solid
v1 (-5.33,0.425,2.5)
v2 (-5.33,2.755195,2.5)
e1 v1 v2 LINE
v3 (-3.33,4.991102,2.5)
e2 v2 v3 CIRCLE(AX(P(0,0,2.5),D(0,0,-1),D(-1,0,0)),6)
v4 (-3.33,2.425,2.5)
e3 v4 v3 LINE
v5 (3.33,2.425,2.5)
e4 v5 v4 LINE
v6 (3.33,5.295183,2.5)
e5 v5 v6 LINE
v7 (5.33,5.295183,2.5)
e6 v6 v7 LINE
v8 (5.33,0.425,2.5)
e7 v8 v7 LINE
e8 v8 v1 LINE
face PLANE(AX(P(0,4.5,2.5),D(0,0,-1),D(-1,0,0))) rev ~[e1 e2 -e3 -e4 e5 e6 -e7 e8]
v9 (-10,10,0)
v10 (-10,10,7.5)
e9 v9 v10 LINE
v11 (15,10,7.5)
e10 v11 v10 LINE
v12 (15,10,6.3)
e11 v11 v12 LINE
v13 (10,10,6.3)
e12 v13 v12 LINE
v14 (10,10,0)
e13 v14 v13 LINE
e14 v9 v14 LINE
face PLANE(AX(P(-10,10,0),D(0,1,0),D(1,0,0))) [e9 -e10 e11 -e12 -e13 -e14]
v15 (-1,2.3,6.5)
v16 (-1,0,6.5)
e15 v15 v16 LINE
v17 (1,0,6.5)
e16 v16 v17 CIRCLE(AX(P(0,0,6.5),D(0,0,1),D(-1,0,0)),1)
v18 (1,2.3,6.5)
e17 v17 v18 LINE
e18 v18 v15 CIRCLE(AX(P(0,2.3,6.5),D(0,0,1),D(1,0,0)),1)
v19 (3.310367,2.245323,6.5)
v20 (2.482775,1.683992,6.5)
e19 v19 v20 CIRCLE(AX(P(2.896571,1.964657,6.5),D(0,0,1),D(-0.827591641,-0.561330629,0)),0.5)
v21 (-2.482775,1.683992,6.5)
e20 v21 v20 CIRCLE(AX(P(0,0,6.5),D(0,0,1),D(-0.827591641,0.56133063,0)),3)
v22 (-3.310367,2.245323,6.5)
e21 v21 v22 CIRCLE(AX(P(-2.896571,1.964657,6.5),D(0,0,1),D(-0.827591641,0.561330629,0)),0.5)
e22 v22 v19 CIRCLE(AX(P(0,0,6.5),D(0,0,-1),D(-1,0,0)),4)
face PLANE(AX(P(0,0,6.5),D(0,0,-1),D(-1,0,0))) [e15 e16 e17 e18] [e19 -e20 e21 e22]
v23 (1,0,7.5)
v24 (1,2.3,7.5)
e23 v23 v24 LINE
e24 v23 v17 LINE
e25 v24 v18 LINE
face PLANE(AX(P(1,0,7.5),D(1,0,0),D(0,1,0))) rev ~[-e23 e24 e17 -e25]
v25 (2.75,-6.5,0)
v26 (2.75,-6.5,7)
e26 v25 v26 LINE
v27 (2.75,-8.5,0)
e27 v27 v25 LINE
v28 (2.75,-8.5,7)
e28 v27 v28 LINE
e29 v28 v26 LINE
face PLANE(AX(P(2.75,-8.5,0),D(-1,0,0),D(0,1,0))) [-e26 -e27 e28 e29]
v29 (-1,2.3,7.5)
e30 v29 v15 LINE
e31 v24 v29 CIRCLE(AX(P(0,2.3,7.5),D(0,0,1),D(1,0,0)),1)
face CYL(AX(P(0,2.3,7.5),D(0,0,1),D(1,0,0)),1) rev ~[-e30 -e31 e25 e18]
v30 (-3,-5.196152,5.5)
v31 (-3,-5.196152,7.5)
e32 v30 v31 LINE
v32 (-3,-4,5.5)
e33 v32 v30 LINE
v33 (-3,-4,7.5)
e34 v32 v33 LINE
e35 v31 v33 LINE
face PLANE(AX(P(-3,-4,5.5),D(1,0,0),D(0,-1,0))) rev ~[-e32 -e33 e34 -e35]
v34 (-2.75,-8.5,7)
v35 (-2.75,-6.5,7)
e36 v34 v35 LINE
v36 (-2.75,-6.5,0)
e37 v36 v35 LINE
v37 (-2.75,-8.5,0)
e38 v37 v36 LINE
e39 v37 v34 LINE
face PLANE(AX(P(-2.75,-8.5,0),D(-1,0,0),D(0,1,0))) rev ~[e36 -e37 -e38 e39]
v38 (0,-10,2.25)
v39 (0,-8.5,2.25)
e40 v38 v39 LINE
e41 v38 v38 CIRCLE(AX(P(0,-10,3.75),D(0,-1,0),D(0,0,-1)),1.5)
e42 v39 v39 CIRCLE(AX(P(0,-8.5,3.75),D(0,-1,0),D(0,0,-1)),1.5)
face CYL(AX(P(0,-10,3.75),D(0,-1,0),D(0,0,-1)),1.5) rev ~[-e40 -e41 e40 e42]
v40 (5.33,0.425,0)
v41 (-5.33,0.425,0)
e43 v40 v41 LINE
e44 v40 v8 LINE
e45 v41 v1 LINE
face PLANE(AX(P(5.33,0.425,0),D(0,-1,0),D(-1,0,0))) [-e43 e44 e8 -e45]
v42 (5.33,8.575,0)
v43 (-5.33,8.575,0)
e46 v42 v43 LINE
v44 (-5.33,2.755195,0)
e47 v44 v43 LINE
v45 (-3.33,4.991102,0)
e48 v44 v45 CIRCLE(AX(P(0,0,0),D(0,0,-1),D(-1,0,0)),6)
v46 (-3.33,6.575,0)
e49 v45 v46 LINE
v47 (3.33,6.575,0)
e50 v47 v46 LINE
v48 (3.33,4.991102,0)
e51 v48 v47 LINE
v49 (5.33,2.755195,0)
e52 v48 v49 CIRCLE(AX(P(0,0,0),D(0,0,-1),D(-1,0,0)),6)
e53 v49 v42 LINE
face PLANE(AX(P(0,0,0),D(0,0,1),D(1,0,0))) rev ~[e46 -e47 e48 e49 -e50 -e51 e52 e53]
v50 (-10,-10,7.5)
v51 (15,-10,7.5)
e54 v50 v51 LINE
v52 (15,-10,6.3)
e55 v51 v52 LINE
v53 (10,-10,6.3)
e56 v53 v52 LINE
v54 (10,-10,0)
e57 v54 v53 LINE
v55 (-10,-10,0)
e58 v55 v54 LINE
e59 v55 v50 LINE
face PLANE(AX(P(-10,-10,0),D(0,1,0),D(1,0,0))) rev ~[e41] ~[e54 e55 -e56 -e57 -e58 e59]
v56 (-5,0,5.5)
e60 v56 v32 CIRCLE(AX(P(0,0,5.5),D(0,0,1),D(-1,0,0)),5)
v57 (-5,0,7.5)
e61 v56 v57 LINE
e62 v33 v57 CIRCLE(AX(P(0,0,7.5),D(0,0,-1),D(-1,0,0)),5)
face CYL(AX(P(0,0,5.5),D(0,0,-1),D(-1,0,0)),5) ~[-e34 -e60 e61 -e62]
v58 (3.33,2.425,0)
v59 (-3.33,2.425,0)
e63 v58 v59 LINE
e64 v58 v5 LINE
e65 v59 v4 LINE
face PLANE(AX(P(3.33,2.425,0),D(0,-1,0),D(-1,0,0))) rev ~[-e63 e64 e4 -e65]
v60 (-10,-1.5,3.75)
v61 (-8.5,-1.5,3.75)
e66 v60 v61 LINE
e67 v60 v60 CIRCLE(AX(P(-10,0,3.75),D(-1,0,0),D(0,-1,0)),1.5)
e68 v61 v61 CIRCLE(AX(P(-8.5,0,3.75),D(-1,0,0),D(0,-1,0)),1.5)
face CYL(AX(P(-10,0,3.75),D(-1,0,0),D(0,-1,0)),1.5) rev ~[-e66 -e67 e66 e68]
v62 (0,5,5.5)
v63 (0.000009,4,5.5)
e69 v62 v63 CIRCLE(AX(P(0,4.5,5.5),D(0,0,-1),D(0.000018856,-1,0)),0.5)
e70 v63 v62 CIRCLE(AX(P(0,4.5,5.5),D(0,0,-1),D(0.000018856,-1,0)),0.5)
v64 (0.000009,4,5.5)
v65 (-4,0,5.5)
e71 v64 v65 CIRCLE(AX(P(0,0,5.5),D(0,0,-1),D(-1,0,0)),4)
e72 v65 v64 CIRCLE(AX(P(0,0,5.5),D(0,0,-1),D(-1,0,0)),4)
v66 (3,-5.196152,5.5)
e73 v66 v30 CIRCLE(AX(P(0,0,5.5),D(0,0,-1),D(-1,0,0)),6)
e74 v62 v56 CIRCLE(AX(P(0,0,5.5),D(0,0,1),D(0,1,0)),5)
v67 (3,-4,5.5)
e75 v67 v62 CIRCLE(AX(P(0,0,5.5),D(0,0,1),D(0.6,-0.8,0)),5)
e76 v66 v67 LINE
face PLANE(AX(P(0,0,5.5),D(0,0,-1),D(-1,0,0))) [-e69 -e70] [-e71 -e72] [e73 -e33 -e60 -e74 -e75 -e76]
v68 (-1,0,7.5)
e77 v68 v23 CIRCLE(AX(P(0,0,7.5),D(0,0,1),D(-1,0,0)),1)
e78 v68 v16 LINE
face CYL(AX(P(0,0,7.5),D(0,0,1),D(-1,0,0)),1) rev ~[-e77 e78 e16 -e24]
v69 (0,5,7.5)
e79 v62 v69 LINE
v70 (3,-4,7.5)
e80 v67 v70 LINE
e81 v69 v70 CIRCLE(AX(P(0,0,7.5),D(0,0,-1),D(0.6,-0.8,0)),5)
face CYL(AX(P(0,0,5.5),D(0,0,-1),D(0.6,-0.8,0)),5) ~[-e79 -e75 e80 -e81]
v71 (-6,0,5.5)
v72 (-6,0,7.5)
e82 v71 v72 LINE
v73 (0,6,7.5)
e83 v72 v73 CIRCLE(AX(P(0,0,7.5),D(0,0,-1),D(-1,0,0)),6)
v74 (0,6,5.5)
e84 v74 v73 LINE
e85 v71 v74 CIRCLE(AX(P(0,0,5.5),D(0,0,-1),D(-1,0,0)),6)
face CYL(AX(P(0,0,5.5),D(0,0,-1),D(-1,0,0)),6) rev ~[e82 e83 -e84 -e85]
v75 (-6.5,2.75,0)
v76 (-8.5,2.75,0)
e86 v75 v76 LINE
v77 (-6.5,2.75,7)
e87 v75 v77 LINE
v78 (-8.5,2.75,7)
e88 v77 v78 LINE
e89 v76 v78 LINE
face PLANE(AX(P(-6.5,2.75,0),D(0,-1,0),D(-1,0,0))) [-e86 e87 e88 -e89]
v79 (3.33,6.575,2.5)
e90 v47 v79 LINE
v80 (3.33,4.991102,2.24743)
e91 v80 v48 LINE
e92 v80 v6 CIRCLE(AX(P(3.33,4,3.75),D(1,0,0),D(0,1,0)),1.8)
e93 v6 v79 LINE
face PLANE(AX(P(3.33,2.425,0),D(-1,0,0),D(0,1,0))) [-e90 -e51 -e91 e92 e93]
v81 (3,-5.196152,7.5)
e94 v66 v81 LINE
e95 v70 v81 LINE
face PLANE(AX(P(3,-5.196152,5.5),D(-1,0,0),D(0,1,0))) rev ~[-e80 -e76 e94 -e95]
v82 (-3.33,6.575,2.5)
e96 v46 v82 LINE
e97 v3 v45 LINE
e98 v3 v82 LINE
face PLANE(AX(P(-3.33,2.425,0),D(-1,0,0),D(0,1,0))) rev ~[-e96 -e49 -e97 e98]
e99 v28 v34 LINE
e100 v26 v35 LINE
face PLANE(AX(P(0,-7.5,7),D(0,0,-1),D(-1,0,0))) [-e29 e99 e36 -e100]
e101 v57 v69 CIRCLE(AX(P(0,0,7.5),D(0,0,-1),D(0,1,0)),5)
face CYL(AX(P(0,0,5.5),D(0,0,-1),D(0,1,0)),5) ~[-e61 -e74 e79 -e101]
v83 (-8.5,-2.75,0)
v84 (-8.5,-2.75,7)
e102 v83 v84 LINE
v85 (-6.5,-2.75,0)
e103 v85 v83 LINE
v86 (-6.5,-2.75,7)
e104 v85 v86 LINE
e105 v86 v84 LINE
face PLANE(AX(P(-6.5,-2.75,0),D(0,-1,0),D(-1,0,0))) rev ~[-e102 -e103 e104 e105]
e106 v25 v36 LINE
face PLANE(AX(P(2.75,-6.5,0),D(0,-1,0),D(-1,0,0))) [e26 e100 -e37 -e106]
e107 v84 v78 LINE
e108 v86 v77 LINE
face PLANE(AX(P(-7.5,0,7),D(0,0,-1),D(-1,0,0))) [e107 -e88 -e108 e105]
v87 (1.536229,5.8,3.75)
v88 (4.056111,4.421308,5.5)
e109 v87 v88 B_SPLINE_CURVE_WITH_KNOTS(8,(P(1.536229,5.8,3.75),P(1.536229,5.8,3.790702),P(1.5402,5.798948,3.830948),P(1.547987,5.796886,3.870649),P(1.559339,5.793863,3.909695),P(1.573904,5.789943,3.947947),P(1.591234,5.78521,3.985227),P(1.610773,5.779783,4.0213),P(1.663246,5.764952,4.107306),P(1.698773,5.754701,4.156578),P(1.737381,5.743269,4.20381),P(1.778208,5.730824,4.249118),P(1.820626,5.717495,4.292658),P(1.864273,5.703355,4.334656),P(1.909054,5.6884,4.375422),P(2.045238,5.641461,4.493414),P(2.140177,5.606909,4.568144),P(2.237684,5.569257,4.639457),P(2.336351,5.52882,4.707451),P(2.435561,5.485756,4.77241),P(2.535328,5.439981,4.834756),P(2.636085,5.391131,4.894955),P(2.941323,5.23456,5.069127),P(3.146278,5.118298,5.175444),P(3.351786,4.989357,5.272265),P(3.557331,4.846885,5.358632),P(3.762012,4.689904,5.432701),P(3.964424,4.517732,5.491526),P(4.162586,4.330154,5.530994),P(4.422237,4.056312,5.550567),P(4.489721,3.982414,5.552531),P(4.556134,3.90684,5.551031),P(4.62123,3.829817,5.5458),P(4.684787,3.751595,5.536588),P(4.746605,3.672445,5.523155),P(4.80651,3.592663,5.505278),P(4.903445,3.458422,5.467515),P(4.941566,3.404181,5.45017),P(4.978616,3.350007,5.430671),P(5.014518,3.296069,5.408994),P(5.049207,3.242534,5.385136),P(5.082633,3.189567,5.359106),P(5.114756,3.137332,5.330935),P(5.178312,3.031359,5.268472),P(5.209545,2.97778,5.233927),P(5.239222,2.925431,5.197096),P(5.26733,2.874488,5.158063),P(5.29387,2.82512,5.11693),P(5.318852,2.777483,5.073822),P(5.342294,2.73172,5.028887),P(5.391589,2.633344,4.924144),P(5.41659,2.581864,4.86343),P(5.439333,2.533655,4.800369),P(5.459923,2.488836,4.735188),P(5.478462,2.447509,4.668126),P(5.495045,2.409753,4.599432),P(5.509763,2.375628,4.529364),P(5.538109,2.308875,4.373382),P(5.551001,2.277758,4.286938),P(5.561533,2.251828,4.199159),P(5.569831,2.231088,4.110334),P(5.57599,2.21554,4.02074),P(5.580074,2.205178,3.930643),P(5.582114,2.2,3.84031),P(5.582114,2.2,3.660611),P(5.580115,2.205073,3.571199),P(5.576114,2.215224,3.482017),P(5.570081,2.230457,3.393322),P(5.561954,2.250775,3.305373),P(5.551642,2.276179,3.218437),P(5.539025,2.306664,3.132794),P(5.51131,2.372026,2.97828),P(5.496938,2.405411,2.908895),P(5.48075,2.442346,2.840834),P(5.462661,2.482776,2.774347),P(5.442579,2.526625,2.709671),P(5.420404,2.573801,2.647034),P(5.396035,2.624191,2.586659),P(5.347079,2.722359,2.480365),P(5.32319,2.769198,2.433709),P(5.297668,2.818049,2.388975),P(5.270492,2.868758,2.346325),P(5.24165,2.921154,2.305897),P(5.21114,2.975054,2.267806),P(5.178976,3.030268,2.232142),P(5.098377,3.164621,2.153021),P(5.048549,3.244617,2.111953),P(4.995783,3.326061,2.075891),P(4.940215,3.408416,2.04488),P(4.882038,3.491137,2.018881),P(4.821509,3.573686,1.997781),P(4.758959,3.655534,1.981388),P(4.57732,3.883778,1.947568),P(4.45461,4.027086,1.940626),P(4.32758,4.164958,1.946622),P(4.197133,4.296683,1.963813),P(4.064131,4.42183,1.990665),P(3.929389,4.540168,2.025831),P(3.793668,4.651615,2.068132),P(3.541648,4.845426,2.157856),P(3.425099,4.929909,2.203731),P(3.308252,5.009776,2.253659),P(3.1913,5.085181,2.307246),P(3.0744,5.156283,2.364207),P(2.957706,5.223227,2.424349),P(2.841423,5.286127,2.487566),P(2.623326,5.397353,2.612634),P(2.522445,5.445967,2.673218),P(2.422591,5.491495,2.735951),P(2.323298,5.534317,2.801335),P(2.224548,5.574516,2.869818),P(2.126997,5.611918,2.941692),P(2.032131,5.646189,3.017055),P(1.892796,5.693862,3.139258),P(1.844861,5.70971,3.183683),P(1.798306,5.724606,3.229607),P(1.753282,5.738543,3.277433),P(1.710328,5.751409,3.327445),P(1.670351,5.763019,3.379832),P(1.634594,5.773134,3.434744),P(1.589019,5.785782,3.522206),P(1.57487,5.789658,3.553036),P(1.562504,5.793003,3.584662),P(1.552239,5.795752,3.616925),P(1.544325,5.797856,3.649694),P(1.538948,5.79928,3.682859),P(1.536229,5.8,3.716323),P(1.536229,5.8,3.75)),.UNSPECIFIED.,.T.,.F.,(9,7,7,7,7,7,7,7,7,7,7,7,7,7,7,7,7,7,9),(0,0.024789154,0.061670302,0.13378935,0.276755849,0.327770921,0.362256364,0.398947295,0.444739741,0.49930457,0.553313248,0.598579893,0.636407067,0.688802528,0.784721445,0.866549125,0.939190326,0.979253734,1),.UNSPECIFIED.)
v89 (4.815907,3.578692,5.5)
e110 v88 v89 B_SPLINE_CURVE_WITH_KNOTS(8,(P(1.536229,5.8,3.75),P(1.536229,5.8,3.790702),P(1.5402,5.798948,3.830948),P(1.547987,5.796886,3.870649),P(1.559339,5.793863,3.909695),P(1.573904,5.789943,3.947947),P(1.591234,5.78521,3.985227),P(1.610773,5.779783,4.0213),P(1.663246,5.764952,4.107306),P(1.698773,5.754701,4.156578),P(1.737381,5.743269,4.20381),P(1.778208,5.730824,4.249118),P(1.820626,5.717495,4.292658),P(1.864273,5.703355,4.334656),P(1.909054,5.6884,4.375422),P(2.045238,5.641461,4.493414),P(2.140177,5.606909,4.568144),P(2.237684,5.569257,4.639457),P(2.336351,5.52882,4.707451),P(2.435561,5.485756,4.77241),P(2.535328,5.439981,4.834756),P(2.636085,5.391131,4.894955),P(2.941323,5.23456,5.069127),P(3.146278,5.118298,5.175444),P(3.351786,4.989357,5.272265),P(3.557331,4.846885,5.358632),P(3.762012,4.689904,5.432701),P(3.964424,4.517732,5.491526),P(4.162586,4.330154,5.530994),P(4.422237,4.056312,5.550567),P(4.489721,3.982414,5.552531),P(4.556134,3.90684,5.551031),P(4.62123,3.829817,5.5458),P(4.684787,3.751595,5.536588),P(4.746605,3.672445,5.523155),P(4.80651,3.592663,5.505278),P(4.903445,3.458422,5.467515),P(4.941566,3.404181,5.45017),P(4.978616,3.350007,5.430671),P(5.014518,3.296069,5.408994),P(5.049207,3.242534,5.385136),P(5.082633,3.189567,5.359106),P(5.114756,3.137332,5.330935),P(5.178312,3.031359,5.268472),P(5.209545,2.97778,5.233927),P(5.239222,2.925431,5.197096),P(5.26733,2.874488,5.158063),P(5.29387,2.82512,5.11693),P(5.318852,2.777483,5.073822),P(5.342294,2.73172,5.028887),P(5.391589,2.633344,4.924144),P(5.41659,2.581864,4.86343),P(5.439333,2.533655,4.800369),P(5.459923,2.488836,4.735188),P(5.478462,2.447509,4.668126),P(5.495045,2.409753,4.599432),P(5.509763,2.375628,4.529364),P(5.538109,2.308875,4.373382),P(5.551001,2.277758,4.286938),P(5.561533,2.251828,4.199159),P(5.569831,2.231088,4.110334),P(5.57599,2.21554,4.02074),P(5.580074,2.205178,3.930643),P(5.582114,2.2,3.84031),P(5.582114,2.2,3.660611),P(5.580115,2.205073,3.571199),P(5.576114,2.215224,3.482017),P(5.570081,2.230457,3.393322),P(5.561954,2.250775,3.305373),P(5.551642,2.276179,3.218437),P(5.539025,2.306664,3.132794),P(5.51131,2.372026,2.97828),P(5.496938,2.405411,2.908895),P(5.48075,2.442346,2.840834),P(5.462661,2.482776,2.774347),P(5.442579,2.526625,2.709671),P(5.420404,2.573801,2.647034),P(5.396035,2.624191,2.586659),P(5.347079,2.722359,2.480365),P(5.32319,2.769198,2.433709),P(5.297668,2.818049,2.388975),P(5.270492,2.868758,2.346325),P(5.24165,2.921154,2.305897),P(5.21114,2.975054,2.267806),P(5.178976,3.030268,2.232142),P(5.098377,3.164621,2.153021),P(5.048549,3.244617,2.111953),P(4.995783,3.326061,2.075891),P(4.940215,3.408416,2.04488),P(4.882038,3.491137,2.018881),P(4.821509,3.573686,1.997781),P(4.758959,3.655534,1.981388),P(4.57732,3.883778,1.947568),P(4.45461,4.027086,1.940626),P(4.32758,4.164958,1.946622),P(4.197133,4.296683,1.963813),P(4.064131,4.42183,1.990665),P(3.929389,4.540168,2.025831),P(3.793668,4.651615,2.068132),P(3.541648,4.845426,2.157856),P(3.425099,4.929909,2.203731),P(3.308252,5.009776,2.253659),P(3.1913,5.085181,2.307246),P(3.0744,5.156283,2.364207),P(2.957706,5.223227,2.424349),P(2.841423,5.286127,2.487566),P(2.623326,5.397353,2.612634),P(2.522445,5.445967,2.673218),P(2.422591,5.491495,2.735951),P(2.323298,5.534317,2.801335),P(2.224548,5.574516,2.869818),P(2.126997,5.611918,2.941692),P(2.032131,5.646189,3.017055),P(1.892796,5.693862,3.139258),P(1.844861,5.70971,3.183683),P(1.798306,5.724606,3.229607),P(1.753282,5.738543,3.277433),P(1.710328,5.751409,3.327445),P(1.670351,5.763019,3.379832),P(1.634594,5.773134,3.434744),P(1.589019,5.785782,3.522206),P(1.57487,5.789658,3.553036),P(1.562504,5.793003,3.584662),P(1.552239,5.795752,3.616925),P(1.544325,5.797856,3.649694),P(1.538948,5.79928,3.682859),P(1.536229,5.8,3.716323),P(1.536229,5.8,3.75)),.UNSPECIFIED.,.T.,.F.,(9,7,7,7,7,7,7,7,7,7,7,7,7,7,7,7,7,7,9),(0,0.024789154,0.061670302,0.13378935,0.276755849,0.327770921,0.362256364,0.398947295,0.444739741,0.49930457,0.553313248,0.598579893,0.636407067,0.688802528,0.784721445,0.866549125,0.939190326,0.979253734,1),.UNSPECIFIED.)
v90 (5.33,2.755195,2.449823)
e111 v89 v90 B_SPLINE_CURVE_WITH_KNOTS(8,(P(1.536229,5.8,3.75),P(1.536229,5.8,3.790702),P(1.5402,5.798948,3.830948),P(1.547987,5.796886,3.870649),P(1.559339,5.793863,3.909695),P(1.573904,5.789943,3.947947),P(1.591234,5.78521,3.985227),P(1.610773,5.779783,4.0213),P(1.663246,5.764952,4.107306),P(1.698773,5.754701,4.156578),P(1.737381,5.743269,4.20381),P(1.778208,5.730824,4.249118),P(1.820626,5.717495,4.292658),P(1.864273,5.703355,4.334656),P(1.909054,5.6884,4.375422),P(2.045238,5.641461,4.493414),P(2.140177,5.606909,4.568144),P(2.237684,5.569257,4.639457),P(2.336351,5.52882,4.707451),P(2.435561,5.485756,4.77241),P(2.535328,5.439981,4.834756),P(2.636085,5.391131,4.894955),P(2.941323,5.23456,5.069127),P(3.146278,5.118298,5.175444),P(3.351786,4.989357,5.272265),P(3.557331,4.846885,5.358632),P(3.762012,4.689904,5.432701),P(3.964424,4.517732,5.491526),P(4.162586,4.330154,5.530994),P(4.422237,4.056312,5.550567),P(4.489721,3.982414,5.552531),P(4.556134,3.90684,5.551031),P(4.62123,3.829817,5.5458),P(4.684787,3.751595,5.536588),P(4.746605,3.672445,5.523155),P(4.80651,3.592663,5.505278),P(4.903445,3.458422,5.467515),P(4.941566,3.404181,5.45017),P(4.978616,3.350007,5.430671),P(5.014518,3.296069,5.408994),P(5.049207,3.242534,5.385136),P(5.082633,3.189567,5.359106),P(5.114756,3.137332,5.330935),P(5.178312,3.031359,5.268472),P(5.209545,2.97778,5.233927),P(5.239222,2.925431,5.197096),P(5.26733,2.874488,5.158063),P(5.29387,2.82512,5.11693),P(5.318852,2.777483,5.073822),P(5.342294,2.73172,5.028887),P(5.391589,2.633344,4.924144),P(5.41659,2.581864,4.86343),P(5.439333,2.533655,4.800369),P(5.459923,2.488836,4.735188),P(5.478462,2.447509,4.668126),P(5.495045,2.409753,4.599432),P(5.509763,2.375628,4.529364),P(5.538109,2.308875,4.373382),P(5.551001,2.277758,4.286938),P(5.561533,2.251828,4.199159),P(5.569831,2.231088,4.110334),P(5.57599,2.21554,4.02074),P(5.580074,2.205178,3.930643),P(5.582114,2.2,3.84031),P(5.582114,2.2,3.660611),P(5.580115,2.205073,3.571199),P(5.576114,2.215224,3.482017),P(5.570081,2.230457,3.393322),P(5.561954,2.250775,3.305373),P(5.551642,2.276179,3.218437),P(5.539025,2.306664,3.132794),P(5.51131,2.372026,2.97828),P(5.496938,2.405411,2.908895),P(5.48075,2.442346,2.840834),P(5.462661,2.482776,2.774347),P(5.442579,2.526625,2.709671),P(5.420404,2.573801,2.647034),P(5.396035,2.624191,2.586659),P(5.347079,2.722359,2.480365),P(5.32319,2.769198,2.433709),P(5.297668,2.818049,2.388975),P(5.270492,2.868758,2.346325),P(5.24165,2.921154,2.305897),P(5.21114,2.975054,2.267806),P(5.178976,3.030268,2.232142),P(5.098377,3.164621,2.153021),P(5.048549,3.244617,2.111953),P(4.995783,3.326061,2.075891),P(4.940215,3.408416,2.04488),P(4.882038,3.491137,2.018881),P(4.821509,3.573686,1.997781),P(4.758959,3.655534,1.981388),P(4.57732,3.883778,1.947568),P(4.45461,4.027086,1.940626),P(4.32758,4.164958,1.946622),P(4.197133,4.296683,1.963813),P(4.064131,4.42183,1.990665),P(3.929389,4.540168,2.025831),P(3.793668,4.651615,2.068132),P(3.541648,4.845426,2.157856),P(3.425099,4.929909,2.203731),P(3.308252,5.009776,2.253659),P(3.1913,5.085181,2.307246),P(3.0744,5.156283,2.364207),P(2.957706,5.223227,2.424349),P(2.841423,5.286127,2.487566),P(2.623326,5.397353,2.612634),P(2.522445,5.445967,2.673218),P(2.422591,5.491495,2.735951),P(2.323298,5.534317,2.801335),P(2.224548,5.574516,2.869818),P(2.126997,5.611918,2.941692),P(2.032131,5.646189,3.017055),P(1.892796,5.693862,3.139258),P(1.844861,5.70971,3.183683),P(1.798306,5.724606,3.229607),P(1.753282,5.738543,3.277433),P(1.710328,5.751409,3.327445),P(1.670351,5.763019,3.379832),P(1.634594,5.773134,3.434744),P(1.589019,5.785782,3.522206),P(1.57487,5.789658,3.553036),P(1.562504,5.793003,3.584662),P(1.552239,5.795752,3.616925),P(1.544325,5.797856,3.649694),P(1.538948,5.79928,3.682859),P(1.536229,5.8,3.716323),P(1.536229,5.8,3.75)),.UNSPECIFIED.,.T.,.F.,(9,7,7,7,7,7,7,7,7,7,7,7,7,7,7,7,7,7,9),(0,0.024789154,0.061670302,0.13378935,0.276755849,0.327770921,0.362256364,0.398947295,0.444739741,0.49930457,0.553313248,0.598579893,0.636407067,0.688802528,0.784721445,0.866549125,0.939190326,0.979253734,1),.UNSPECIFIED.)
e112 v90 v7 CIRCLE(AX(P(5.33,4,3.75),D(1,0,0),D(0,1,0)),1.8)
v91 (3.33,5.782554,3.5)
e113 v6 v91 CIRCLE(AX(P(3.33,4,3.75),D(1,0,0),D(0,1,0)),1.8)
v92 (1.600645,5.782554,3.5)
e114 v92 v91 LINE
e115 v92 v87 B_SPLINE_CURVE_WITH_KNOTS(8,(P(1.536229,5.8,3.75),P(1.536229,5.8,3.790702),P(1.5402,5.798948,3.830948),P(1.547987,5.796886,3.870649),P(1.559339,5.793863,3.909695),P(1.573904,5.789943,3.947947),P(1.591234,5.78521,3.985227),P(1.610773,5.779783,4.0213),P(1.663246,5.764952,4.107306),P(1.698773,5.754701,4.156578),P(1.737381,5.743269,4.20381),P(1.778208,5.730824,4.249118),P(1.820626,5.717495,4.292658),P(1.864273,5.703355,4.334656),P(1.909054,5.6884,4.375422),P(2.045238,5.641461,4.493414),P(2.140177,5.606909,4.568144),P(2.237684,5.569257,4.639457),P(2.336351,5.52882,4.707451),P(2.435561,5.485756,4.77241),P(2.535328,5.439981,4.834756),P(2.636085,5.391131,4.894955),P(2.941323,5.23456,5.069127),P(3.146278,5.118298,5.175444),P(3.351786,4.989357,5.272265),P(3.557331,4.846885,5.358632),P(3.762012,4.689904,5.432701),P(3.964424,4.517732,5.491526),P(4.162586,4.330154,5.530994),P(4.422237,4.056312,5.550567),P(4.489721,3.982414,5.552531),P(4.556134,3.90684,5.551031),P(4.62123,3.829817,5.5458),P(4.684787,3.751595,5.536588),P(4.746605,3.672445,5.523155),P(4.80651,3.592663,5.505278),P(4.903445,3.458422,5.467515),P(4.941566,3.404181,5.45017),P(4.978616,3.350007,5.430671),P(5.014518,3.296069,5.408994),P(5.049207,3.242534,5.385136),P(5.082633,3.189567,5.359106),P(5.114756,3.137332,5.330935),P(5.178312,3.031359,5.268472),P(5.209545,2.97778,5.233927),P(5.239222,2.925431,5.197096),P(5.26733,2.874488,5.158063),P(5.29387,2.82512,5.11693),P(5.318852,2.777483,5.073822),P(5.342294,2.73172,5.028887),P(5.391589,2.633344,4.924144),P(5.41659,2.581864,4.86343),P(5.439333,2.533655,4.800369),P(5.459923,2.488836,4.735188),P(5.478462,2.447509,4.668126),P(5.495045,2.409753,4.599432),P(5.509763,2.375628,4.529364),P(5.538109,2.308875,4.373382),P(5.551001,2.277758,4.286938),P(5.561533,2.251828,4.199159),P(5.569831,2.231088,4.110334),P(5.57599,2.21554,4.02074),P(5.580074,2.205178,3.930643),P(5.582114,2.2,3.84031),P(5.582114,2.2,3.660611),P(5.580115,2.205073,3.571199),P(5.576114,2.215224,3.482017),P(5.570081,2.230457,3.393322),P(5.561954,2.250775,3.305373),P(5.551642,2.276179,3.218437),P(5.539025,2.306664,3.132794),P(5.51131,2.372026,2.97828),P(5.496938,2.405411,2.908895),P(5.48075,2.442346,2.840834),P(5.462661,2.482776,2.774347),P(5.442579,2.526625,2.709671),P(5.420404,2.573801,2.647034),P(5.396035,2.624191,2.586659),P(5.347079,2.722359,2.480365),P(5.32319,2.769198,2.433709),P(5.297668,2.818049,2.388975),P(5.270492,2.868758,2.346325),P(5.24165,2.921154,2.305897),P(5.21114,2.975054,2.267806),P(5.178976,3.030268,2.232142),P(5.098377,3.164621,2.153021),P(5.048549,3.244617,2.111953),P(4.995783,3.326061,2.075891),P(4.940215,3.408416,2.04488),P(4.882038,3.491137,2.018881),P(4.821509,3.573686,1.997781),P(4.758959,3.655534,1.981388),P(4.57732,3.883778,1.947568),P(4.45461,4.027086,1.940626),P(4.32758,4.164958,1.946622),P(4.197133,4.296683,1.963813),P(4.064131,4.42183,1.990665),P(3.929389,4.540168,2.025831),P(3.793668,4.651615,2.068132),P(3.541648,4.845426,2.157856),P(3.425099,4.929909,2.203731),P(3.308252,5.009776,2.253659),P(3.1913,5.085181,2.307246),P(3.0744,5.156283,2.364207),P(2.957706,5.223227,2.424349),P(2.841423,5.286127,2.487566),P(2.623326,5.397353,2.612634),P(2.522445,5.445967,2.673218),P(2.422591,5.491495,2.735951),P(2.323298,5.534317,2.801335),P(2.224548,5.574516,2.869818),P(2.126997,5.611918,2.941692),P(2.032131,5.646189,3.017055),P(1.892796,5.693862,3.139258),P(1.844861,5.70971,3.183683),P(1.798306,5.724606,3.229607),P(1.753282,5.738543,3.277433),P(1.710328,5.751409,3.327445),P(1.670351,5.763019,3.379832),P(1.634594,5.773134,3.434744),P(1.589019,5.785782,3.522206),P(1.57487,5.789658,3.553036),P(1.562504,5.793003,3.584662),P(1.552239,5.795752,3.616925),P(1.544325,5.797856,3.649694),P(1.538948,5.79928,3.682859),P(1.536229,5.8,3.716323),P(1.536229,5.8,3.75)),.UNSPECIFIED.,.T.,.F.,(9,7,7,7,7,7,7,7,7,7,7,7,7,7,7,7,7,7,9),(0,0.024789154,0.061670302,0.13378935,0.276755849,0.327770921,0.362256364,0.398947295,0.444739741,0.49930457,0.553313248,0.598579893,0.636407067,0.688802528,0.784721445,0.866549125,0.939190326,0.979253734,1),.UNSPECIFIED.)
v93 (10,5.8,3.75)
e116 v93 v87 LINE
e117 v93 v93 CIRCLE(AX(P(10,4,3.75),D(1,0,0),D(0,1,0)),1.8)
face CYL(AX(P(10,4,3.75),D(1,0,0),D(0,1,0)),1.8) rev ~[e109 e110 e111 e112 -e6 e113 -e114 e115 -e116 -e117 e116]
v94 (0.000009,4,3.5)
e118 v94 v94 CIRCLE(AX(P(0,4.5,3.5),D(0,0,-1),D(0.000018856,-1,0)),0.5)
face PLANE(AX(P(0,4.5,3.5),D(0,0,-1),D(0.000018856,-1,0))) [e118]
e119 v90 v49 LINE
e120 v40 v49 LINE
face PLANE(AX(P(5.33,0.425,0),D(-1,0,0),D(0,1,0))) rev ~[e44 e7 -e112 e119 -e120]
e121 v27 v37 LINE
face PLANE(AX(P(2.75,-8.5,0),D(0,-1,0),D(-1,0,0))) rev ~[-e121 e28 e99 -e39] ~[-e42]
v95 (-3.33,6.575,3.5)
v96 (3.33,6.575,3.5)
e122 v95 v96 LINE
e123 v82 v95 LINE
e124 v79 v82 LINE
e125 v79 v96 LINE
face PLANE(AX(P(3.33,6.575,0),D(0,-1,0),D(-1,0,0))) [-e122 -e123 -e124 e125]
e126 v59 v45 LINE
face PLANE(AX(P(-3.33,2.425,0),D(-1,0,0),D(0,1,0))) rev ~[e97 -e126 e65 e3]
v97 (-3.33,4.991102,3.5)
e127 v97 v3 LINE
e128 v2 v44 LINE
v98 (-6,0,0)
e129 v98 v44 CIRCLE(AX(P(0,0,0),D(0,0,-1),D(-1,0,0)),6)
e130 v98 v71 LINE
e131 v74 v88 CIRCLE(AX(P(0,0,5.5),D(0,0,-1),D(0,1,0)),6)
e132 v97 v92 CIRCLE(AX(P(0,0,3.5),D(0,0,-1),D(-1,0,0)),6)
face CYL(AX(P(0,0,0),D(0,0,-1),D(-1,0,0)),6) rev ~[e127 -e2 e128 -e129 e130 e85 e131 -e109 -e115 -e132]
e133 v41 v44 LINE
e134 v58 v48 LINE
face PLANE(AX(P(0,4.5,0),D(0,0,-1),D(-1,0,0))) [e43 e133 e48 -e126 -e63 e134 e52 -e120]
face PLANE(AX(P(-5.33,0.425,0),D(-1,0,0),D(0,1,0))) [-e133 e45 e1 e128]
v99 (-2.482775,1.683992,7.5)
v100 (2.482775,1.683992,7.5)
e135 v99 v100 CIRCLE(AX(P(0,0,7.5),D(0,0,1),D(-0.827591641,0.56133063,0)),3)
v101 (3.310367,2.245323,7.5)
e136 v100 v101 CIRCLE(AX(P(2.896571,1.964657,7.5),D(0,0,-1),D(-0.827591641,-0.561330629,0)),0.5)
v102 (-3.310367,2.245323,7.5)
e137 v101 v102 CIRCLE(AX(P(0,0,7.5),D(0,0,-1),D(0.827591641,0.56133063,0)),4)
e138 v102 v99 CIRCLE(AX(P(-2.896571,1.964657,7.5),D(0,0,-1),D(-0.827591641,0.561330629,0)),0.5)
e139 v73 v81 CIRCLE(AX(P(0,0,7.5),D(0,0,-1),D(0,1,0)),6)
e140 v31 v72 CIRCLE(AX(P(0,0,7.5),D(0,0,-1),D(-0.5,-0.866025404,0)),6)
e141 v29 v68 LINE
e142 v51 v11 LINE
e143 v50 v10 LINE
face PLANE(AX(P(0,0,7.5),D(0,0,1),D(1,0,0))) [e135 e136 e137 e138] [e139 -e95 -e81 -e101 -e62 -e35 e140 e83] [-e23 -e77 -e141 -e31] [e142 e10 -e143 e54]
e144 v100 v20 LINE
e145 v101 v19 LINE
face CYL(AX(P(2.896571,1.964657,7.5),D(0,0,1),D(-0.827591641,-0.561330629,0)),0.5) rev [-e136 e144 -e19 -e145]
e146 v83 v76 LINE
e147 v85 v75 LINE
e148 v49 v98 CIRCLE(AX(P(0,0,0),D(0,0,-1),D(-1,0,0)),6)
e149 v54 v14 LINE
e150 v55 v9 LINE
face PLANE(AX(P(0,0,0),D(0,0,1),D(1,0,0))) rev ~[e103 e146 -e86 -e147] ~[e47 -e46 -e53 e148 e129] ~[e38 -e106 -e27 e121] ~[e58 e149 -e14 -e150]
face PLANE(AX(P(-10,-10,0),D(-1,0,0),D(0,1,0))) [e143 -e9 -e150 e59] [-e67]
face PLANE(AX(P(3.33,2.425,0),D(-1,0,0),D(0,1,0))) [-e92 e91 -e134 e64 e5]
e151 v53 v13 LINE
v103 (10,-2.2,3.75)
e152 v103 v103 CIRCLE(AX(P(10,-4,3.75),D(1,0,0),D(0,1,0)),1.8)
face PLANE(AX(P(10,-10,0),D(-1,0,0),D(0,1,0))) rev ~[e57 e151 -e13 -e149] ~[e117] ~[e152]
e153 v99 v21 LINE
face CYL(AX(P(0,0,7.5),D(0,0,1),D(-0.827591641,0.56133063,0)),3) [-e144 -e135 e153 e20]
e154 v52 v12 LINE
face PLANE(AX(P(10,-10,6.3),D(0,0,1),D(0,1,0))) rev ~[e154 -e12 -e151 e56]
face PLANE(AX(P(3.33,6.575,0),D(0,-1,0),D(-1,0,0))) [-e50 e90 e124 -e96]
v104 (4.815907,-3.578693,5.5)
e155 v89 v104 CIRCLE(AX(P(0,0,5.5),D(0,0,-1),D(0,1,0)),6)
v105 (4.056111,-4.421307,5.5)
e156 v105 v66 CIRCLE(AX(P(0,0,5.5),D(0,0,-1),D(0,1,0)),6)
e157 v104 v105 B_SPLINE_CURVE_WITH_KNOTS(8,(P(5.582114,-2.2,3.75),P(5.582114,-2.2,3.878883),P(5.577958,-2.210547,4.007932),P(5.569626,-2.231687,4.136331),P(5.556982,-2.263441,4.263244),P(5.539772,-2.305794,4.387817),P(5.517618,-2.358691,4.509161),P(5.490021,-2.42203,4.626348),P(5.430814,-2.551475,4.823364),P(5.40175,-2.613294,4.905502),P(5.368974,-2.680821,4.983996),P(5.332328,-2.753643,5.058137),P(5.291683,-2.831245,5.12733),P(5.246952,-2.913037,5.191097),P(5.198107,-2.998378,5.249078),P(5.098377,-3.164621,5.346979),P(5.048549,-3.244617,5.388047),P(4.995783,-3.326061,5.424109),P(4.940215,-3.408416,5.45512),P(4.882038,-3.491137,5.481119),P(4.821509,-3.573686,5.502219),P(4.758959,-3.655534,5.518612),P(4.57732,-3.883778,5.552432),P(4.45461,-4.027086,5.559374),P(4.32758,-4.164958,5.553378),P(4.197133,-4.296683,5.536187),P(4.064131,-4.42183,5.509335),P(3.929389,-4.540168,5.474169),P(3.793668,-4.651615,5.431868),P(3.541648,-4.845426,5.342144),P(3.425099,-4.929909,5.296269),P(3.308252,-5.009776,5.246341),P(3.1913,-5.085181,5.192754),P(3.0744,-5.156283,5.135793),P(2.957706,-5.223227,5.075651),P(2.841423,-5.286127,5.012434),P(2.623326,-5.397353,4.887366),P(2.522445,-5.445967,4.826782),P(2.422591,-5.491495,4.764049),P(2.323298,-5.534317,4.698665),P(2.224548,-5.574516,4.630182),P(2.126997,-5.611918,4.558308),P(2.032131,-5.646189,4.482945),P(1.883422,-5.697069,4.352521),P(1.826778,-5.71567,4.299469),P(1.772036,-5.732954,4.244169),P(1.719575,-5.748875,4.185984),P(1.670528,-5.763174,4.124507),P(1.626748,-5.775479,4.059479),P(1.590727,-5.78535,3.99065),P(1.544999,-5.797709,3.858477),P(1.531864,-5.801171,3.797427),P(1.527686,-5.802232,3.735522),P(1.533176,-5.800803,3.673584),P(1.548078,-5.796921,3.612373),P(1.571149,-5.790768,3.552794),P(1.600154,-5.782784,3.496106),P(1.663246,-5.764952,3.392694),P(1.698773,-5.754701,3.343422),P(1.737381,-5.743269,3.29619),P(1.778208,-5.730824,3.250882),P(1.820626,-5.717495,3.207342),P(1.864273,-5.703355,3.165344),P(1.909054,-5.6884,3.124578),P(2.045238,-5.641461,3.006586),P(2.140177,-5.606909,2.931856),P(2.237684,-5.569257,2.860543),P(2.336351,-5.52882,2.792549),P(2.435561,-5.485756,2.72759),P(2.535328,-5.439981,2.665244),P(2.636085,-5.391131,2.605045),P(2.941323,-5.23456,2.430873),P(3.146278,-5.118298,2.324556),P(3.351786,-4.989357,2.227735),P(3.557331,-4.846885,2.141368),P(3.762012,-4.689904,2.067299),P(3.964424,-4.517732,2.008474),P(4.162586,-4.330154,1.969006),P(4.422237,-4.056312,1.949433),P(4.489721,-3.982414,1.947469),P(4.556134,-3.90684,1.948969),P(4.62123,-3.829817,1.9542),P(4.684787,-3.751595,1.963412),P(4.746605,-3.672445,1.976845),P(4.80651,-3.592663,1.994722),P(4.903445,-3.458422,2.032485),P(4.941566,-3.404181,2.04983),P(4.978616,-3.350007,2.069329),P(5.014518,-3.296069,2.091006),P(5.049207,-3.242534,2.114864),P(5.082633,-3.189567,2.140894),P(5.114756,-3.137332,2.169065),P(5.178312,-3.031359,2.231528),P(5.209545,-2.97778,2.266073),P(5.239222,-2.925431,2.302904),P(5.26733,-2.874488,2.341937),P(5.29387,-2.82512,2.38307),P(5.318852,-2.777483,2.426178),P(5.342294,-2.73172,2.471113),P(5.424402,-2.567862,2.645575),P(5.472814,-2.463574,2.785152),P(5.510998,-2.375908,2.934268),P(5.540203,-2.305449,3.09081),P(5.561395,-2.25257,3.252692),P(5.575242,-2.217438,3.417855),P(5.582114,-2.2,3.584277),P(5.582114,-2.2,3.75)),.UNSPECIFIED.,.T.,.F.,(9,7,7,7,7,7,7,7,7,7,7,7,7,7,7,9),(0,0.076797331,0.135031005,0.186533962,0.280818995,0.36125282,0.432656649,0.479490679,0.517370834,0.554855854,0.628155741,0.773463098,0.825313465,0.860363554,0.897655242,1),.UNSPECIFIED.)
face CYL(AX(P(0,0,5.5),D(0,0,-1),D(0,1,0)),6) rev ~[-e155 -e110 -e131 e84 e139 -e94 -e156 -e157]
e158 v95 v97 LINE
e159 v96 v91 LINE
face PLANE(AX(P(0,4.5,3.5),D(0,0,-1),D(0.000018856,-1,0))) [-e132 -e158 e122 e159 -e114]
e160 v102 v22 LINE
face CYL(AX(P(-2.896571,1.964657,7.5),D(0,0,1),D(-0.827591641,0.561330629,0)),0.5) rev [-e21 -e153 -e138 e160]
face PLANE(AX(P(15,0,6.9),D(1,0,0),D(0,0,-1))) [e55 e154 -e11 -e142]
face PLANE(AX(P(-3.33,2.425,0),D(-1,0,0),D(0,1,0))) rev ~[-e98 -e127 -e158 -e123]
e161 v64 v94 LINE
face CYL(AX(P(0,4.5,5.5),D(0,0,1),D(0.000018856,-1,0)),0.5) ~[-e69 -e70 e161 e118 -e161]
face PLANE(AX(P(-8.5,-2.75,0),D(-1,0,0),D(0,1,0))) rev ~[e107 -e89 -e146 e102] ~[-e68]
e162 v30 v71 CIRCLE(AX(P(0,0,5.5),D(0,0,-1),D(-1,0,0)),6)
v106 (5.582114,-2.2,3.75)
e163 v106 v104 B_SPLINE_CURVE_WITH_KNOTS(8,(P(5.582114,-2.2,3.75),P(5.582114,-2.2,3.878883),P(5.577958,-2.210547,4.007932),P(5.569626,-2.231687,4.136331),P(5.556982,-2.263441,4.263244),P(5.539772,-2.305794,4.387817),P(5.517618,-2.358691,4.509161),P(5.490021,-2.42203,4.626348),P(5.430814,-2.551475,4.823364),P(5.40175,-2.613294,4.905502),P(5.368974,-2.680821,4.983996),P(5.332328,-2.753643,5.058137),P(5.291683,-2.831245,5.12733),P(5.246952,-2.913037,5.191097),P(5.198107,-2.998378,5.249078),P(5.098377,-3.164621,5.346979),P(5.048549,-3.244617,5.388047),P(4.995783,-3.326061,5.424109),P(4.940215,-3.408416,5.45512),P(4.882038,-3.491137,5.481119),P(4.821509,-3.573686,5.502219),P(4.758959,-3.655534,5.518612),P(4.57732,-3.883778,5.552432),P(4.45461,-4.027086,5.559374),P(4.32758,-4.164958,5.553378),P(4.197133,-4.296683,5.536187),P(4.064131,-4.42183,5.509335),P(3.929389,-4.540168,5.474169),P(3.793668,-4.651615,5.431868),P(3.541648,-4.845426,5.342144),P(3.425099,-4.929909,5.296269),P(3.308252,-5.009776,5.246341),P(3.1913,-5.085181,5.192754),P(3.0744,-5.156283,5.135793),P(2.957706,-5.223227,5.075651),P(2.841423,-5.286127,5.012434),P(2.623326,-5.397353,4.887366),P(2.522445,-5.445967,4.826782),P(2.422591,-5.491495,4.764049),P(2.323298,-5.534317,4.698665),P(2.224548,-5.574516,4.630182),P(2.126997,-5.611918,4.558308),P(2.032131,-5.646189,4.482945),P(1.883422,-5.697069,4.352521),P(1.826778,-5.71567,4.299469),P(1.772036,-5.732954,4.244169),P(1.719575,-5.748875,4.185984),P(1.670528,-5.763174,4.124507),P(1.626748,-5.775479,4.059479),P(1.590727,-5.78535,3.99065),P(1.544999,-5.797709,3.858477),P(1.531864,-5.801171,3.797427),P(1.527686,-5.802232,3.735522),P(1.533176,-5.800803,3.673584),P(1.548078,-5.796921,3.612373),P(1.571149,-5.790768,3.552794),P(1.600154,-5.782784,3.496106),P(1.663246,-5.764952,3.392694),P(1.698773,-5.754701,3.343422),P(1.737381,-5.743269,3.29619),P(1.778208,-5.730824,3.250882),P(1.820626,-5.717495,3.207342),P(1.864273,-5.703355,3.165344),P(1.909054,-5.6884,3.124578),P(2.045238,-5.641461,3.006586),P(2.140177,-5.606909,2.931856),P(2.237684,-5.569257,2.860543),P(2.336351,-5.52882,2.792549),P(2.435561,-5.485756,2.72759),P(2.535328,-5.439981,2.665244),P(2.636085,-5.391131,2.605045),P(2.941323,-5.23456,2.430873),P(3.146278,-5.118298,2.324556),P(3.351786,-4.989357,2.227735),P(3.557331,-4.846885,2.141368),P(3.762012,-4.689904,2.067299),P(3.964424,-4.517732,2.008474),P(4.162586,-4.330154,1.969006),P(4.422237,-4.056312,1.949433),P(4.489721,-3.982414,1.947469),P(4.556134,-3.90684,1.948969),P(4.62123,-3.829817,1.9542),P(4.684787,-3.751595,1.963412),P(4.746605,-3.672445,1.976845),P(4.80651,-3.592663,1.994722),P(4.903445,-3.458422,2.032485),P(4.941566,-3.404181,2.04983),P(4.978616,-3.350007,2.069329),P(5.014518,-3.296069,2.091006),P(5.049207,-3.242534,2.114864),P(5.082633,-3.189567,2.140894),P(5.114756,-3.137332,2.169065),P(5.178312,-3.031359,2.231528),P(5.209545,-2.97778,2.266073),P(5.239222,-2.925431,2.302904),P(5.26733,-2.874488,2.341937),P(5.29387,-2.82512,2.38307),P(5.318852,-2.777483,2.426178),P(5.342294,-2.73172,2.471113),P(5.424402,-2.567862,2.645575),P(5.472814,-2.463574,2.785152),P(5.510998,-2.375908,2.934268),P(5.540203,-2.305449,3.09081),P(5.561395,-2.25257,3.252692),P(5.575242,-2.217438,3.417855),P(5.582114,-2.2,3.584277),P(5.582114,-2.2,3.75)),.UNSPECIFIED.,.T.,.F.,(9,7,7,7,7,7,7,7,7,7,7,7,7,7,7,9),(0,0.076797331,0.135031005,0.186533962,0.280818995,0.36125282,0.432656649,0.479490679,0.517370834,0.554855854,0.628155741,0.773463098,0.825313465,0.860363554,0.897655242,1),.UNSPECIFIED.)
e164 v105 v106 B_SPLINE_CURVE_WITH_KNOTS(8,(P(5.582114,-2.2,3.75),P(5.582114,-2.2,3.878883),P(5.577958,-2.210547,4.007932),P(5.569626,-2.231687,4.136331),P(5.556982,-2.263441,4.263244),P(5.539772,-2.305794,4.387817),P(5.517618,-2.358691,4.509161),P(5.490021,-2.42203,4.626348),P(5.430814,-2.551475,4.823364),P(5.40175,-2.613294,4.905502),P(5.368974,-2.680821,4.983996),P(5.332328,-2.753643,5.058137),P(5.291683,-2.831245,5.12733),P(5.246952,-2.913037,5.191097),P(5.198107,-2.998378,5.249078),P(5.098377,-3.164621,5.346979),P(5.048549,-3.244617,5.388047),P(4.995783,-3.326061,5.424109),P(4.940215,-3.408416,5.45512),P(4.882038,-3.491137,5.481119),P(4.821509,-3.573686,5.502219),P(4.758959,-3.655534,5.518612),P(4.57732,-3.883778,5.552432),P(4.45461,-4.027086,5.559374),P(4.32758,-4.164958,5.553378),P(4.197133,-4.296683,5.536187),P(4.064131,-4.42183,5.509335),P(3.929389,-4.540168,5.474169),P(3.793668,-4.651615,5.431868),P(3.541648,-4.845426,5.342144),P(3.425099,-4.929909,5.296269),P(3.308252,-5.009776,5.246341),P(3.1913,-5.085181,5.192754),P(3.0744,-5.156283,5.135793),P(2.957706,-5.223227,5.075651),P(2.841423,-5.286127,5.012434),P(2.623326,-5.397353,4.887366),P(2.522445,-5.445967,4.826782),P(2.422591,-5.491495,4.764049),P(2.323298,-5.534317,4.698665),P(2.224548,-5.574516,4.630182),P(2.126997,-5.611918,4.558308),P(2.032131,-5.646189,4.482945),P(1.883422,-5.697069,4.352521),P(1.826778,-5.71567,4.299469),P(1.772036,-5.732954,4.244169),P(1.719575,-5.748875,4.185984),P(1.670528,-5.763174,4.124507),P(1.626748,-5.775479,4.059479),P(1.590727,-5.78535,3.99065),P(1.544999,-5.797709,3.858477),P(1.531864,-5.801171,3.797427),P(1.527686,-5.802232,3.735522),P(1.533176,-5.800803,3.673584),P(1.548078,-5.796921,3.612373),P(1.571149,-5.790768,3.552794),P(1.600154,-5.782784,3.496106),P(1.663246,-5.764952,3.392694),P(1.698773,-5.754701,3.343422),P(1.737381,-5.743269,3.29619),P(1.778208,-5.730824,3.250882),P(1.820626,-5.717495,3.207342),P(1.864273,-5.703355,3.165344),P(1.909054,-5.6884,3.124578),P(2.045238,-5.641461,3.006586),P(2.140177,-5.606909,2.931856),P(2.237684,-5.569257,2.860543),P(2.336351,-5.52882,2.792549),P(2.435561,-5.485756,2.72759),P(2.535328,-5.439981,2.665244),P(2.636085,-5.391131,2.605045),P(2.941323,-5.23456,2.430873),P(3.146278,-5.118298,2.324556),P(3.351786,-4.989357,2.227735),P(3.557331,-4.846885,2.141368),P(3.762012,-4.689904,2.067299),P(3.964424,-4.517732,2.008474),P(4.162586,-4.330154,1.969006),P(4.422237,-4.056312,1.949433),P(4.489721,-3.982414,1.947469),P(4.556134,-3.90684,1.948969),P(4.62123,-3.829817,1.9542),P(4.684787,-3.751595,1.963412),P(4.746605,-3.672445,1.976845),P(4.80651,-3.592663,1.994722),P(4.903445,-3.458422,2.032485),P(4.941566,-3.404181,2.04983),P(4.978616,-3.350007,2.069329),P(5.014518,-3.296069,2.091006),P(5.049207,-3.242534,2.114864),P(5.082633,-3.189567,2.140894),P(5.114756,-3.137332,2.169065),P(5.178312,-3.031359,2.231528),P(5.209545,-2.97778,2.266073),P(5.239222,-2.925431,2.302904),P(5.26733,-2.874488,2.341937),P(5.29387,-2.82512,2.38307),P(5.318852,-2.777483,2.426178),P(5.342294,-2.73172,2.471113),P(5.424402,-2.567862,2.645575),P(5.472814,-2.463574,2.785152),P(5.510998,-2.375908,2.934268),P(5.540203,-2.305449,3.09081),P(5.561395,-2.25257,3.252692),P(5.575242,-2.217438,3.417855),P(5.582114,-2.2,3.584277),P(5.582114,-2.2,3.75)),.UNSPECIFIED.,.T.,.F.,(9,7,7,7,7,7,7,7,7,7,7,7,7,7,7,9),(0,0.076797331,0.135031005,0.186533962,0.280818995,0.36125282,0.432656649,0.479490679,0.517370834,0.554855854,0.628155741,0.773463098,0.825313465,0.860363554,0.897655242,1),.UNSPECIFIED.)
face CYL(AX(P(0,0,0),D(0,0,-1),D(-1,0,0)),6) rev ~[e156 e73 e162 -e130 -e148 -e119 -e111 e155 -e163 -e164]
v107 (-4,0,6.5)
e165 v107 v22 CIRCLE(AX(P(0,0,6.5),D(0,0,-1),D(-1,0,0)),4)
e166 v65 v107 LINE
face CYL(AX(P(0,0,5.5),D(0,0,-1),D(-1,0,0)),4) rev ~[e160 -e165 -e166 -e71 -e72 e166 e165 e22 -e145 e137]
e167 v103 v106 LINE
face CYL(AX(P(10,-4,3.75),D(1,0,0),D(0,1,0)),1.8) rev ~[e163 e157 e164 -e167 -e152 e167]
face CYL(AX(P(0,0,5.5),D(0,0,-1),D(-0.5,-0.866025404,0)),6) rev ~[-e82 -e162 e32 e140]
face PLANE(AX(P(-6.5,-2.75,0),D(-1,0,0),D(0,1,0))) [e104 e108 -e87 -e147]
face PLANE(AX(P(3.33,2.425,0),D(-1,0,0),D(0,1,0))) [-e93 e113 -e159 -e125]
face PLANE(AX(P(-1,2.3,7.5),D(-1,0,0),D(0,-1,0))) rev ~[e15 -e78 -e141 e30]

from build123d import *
from build123d.topology import SkipClean

# Parameters (mm, degrees)
SKETCH1_W               = 20
SKETCH1_H               = 20
BOSS_EXTRUDE1_DEPTH     = 7.5
SKETCH2_R               = 6
CUT_EXTRUDE1_DEPTH      = 5.5
CUT_EXTRUDE2_DEPTH      = 5
SKETCH4_R               = 4
CUT_EXTRUDE3_DEPTH      = 1
CUT_EXTRUDE4_REACH      = 18.008
SKETCH6_W               = 2
SKETCH6_H               = 5.5
SKETCH6_W_2             = 5.5
SKETCH6_H_2             = 2
CUT_EXTRUDE5_DEPTH      = 7
CUT_EXTRUDE6_REACH      = 25.585
SKETCH7_R               = 1.5
CUT_EXTRUDE7_REACH      = 25.585
SKETCH8_R               = 1.5
CUT_EXTRUDE8_REACH      = 25.585
CUT_EXTRUDE8_END_RADIUS = 6
SKETCH9_R               = 1.8
SKETCH10_W              = 1.2
SKETCH10_H              = 20
BOSS_EXTRUDE2_DEPTH     = 5
SKETCH11_R              = 0.5
BOSS_EXTRUDE3_DEPTH     = 2
CUT_EXTRUDE9_REACH      = 21.526
SKETCH12_W              = 6.66
SKETCH12_H              = 4.15
SKETCH13_W              = 10.66
SKETCH13_H              = 8.15
SKETCH13_W_2            = 6.66
SKETCH13_H_2            = 4.15
BOSS_EXTRUDE4_DEPTH     = 2.5


with BuildPart() as part:
    # Sketch1 → Boss-Extrude1 (new body)
    with BuildSketch(Plane.XY):
        Rectangle(SKETCH1_W, SKETCH1_H)
    extrude(amount=BOSS_EXTRUDE1_DEPTH)

    # Sketch2 → Cut-Extrude1 (cut)
    with BuildSketch(Plane(origin=(0, 0, 0), x_dir=(-1, 0, 0), z_dir=(0, 0, -1))):
        Circle(SKETCH2_R)
    extrude(amount=-CUT_EXTRUDE1_DEPTH, mode=Mode.SUBTRACT)

    # Sketch3 → Cut-Extrude2 (cut)
    with BuildSketch(Plane(origin=(0, 0, 5.5), x_dir=(-1, 0, 0), z_dir=(0, 0, -1))):
        with BuildLine():
            Line((-3, -5.196152423), (-3, -4))
            ThreePointArc((-3, -4), (-4.74341649, 1.58113883), (0, 5))
            Line((0, 5), (0, 6))
            ThreePointArc((0, 6), (-5.795554958, 1.552914271), (-3, -5.196152423))
        make_face()
        with BuildLine():
            Line((0, 6), (0, 5))
            ThreePointArc((0, 5), (3.535533906, 3.535533906), (5, 0))
            ThreePointArc((5, 0), (4.472135955, -2.236067977), (3, -4))
            Line((3, -4), (3, -5.196152423))
            ThreePointArc((3, -5.196152423), (5.196152423, -3), (6, 0))
            ThreePointArc((6, 0), (4.242640687, 4.242640687), (0, 6))
        make_face()
    extrude(amount=-CUT_EXTRUDE2_DEPTH, mode=Mode.SUBTRACT)

    # Sketch4 → Cut-Extrude3 (cut)
    with BuildSketch(Plane(origin=(0, 0, 5.5), x_dir=(-1, 0, 0), z_dir=(0, 0, -1))):
        Circle(SKETCH4_R)
    extrude(amount=-CUT_EXTRUDE3_DEPTH, mode=Mode.SUBTRACT)

    # Sketch5 → Cut-Extrude4 (cut, up to next)
    with BuildSketch(Plane.XY.offset(7.5), mode=Mode.PRIVATE) as cut_extrude4_sk1:
        with BuildLine():
            Line((-1, 2.3), (-1, 0))
            ThreePointArc((-1, 0), (0, -1), (1, 0))
            Line((1, 0), (1, 2.3))
            ThreePointArc((1, 2.3), (0, 3.3), (-1, 2.3))
        make_face()
    cut_extrude4_tool1 = extrude(cut_extrude4_sk1.sketch, amount=-CUT_EXTRUDE4_REACH, mode=Mode.PRIVATE) & part.part
    # Sketch5 → Cut-Extrude4 (cut, up to next)
    with BuildSketch(Plane.XY.offset(7.5), mode=Mode.PRIVATE) as cut_extrude4_sk2:
        with BuildLine():
            ThreePointArc((-2.482774923, 1.683991889), (0, -3), (2.482774923, 1.683991889))
            ThreePointArc((2.482774923, 1.683991889), (2.615905429, 2.378453024), (3.310366564, 2.245322518))
            ThreePointArc((3.310366564, 2.245322518), (0, -4), (-3.310366564, 2.245322518))
            ThreePointArc((-3.310366564, 2.245322518), (-2.615905429, 2.378453024), (-2.482774923, 1.683991889))
        make_face()
    cut_extrude4_tool2 = extrude(cut_extrude4_sk2.sketch, amount=-CUT_EXTRUDE4_REACH, mode=Mode.PRIVATE) & part.part
    add(cut_extrude4_tool1.solids().sort_by_distance((0, 1.15, 7.5))[0], mode=Mode.SUBTRACT)
    add(cut_extrude4_tool2.solids().sort_by_distance((2.673641, 2.293331, 7.5))[0], mode=Mode.SUBTRACT)

    # Sketch6 → Cut-Extrude5 (cut)
    with SkipClean():  # the faces are left unmerged after this step: merging them gives an invalid solid
        with BuildSketch(Plane(origin=(0, 0, 0), x_dir=(-1, 0, 0), z_dir=(0, 0, -1))):
            with Locations((7.5, 0)):
                Rectangle(SKETCH6_W, SKETCH6_H)
            with Locations((0, -7.5)):
                Rectangle(SKETCH6_W_2, SKETCH6_H_2)
        extrude(amount=-CUT_EXTRUDE5_DEPTH, mode=Mode.SUBTRACT)

    # Sketch7 → Cut-Extrude6 (cut, up to next)
    with BuildSketch(Plane.ZY.offset(10), mode=Mode.PRIVATE) as cut_extrude6_sk1:
        with Locations(Location((3.75, 0, 0), (0, 0, 270))):
            Circle(SKETCH7_R)
    cut_extrude6_tool1 = extrude(cut_extrude6_sk1.sketch, amount=-CUT_EXTRUDE6_REACH, mode=Mode.PRIVATE) & part.part
    add(cut_extrude6_tool1.solids().sort_by_distance((-10, 0, 3.75))[0], mode=Mode.SUBTRACT)

    # Sketch8 → Cut-Extrude7 (cut, up to next)
    with BuildSketch(Plane(origin=(0, -10, 0), x_dir=(-1, 0, 0), z_dir=(0, -1, 0)), mode=Mode.PRIVATE) as cut_extrude7_sk1:
        with Locations(Location((0, -3.75, 0), (0, 0, 90))):
            Circle(SKETCH8_R)
    cut_extrude7_tool1 = extrude(cut_extrude7_sk1.sketch, amount=-CUT_EXTRUDE7_REACH, mode=Mode.PRIVATE) & part.part
    add(cut_extrude7_tool1.solids().sort_by_distance((0, -10, 3.75))[0], mode=Mode.SUBTRACT)

    # Cut-Extrude8: up to this cylinder (the profile starts outside it)
    with SkipClean():  # the faces are left unmerged after this step: merging them gives an invalid solid
        cut_extrude8_end = Plane(origin=(0, 0, 3.75), z_dir=(0, 0, -1)) * Cylinder(CUT_EXTRUDE8_END_RADIUS, 64.17, mode=Mode.PRIVATE)
        # Sketch9 → Cut-Extrude8 (cut, up to the surface)
        with BuildSketch(Plane(origin=(10, 0, 0), x_dir=(0, 0, -1), z_dir=(1, 0, 0)), mode=Mode.PRIVATE) as cut_extrude8_sk1:
            with Locations(Location((-3.75, 4, 0), (0, 0, 90))):
                Circle(SKETCH9_R)
        cut_extrude8_tool1 = extrude(cut_extrude8_sk1.sketch, amount=-CUT_EXTRUDE8_REACH, mode=Mode.PRIVATE) - cut_extrude8_end
        add(cut_extrude8_tool1.solids().sort_by_distance((10, 4, 3.75))[0], mode=Mode.SUBTRACT)
        # Sketch9 → Cut-Extrude8 (cut, up to the surface)
        with BuildSketch(Plane(origin=(10, 0, 0), x_dir=(0, 0, -1), z_dir=(1, 0, 0)), mode=Mode.PRIVATE) as cut_extrude8_sk2:
            with Locations(Location((-3.75, -4, 0), (0, 0, 90))):
                Circle(SKETCH9_R)
        cut_extrude8_tool2 = extrude(cut_extrude8_sk2.sketch, amount=-CUT_EXTRUDE8_REACH, mode=Mode.PRIVATE) - cut_extrude8_end
        add(cut_extrude8_tool2.solids().sort_by_distance((10, -4, 3.75))[0], mode=Mode.SUBTRACT)

    # Sketch10 → Boss-Extrude2 (add)
    with SkipClean():  # the faces are left unmerged after this step: merging them gives an invalid solid
        with BuildSketch(Plane(origin=(10, 0, 0), x_dir=(0, 0, -1), z_dir=(1, 0, 0))):
            with Locations((-6.9, 0)):
                Rectangle(SKETCH10_W, SKETCH10_H)
        extrude(amount=BOSS_EXTRUDE2_DEPTH)

    # Sketch11 → Boss-Extrude3 (add)
    with SkipClean():  # the faces are left unmerged after this step: merging them gives an invalid solid
        with BuildSketch(Plane(origin=(0, 0, 5.5), x_dir=(-1, 0, 0), z_dir=(0, 0, -1))):
            with Locations(Location((0, 4.5, 0), (0, 0, 269.99891962))):
                Circle(SKETCH11_R)
        extrude(amount=BOSS_EXTRUDE3_DEPTH)

    # Cut-Extrude9: up to this face of the body (flat: up to its plane)
    cut_extrude9_end = Plane(part.part.faces().sort_by_distance((0, 4.5, 3.5))[0])
    # Sketch12 → Cut-Extrude9 (cut, up to the picked face)
    with BuildSketch(Plane(origin=(0, 0, 0), x_dir=(-1, 0, 0), z_dir=(0, 0, -1)), mode=Mode.PRIVATE) as cut_extrude9_sk1:
        with Locations((0, 4.5)):
            Rectangle(SKETCH12_W, SKETCH12_H)
    cut_extrude9_tool1 = split(extrude(cut_extrude9_sk1.sketch, amount=-CUT_EXTRUDE9_REACH, mode=Mode.PRIVATE), bisect_by=cut_extrude9_end, keep=Keep.BOTH, mode=Mode.PRIVATE)
    add(cut_extrude9_tool1.solids().sort_by(Axis((0, 4.5, 0), (0, 0, 1)))[0], mode=Mode.SUBTRACT)

    # Sketch13 → Boss-Extrude4 (add)
    with SkipClean():  # the faces are left unmerged after this step: merging them gives an invalid solid
        with BuildSketch(Plane(origin=(0, 0, 0), x_dir=(-1, 0, 0), z_dir=(0, 0, -1))):
            with Locations((0, 4.5)):
                Rectangle(SKETCH13_W, SKETCH13_H)
            with Locations((0, 4.5)):
                Rectangle(SKETCH13_W_2, SKETCH13_H_2, mode=Mode.SUBTRACT)
        extrude(amount=-BOSS_EXTRUDE4_DEPTH)


solid = part.part
